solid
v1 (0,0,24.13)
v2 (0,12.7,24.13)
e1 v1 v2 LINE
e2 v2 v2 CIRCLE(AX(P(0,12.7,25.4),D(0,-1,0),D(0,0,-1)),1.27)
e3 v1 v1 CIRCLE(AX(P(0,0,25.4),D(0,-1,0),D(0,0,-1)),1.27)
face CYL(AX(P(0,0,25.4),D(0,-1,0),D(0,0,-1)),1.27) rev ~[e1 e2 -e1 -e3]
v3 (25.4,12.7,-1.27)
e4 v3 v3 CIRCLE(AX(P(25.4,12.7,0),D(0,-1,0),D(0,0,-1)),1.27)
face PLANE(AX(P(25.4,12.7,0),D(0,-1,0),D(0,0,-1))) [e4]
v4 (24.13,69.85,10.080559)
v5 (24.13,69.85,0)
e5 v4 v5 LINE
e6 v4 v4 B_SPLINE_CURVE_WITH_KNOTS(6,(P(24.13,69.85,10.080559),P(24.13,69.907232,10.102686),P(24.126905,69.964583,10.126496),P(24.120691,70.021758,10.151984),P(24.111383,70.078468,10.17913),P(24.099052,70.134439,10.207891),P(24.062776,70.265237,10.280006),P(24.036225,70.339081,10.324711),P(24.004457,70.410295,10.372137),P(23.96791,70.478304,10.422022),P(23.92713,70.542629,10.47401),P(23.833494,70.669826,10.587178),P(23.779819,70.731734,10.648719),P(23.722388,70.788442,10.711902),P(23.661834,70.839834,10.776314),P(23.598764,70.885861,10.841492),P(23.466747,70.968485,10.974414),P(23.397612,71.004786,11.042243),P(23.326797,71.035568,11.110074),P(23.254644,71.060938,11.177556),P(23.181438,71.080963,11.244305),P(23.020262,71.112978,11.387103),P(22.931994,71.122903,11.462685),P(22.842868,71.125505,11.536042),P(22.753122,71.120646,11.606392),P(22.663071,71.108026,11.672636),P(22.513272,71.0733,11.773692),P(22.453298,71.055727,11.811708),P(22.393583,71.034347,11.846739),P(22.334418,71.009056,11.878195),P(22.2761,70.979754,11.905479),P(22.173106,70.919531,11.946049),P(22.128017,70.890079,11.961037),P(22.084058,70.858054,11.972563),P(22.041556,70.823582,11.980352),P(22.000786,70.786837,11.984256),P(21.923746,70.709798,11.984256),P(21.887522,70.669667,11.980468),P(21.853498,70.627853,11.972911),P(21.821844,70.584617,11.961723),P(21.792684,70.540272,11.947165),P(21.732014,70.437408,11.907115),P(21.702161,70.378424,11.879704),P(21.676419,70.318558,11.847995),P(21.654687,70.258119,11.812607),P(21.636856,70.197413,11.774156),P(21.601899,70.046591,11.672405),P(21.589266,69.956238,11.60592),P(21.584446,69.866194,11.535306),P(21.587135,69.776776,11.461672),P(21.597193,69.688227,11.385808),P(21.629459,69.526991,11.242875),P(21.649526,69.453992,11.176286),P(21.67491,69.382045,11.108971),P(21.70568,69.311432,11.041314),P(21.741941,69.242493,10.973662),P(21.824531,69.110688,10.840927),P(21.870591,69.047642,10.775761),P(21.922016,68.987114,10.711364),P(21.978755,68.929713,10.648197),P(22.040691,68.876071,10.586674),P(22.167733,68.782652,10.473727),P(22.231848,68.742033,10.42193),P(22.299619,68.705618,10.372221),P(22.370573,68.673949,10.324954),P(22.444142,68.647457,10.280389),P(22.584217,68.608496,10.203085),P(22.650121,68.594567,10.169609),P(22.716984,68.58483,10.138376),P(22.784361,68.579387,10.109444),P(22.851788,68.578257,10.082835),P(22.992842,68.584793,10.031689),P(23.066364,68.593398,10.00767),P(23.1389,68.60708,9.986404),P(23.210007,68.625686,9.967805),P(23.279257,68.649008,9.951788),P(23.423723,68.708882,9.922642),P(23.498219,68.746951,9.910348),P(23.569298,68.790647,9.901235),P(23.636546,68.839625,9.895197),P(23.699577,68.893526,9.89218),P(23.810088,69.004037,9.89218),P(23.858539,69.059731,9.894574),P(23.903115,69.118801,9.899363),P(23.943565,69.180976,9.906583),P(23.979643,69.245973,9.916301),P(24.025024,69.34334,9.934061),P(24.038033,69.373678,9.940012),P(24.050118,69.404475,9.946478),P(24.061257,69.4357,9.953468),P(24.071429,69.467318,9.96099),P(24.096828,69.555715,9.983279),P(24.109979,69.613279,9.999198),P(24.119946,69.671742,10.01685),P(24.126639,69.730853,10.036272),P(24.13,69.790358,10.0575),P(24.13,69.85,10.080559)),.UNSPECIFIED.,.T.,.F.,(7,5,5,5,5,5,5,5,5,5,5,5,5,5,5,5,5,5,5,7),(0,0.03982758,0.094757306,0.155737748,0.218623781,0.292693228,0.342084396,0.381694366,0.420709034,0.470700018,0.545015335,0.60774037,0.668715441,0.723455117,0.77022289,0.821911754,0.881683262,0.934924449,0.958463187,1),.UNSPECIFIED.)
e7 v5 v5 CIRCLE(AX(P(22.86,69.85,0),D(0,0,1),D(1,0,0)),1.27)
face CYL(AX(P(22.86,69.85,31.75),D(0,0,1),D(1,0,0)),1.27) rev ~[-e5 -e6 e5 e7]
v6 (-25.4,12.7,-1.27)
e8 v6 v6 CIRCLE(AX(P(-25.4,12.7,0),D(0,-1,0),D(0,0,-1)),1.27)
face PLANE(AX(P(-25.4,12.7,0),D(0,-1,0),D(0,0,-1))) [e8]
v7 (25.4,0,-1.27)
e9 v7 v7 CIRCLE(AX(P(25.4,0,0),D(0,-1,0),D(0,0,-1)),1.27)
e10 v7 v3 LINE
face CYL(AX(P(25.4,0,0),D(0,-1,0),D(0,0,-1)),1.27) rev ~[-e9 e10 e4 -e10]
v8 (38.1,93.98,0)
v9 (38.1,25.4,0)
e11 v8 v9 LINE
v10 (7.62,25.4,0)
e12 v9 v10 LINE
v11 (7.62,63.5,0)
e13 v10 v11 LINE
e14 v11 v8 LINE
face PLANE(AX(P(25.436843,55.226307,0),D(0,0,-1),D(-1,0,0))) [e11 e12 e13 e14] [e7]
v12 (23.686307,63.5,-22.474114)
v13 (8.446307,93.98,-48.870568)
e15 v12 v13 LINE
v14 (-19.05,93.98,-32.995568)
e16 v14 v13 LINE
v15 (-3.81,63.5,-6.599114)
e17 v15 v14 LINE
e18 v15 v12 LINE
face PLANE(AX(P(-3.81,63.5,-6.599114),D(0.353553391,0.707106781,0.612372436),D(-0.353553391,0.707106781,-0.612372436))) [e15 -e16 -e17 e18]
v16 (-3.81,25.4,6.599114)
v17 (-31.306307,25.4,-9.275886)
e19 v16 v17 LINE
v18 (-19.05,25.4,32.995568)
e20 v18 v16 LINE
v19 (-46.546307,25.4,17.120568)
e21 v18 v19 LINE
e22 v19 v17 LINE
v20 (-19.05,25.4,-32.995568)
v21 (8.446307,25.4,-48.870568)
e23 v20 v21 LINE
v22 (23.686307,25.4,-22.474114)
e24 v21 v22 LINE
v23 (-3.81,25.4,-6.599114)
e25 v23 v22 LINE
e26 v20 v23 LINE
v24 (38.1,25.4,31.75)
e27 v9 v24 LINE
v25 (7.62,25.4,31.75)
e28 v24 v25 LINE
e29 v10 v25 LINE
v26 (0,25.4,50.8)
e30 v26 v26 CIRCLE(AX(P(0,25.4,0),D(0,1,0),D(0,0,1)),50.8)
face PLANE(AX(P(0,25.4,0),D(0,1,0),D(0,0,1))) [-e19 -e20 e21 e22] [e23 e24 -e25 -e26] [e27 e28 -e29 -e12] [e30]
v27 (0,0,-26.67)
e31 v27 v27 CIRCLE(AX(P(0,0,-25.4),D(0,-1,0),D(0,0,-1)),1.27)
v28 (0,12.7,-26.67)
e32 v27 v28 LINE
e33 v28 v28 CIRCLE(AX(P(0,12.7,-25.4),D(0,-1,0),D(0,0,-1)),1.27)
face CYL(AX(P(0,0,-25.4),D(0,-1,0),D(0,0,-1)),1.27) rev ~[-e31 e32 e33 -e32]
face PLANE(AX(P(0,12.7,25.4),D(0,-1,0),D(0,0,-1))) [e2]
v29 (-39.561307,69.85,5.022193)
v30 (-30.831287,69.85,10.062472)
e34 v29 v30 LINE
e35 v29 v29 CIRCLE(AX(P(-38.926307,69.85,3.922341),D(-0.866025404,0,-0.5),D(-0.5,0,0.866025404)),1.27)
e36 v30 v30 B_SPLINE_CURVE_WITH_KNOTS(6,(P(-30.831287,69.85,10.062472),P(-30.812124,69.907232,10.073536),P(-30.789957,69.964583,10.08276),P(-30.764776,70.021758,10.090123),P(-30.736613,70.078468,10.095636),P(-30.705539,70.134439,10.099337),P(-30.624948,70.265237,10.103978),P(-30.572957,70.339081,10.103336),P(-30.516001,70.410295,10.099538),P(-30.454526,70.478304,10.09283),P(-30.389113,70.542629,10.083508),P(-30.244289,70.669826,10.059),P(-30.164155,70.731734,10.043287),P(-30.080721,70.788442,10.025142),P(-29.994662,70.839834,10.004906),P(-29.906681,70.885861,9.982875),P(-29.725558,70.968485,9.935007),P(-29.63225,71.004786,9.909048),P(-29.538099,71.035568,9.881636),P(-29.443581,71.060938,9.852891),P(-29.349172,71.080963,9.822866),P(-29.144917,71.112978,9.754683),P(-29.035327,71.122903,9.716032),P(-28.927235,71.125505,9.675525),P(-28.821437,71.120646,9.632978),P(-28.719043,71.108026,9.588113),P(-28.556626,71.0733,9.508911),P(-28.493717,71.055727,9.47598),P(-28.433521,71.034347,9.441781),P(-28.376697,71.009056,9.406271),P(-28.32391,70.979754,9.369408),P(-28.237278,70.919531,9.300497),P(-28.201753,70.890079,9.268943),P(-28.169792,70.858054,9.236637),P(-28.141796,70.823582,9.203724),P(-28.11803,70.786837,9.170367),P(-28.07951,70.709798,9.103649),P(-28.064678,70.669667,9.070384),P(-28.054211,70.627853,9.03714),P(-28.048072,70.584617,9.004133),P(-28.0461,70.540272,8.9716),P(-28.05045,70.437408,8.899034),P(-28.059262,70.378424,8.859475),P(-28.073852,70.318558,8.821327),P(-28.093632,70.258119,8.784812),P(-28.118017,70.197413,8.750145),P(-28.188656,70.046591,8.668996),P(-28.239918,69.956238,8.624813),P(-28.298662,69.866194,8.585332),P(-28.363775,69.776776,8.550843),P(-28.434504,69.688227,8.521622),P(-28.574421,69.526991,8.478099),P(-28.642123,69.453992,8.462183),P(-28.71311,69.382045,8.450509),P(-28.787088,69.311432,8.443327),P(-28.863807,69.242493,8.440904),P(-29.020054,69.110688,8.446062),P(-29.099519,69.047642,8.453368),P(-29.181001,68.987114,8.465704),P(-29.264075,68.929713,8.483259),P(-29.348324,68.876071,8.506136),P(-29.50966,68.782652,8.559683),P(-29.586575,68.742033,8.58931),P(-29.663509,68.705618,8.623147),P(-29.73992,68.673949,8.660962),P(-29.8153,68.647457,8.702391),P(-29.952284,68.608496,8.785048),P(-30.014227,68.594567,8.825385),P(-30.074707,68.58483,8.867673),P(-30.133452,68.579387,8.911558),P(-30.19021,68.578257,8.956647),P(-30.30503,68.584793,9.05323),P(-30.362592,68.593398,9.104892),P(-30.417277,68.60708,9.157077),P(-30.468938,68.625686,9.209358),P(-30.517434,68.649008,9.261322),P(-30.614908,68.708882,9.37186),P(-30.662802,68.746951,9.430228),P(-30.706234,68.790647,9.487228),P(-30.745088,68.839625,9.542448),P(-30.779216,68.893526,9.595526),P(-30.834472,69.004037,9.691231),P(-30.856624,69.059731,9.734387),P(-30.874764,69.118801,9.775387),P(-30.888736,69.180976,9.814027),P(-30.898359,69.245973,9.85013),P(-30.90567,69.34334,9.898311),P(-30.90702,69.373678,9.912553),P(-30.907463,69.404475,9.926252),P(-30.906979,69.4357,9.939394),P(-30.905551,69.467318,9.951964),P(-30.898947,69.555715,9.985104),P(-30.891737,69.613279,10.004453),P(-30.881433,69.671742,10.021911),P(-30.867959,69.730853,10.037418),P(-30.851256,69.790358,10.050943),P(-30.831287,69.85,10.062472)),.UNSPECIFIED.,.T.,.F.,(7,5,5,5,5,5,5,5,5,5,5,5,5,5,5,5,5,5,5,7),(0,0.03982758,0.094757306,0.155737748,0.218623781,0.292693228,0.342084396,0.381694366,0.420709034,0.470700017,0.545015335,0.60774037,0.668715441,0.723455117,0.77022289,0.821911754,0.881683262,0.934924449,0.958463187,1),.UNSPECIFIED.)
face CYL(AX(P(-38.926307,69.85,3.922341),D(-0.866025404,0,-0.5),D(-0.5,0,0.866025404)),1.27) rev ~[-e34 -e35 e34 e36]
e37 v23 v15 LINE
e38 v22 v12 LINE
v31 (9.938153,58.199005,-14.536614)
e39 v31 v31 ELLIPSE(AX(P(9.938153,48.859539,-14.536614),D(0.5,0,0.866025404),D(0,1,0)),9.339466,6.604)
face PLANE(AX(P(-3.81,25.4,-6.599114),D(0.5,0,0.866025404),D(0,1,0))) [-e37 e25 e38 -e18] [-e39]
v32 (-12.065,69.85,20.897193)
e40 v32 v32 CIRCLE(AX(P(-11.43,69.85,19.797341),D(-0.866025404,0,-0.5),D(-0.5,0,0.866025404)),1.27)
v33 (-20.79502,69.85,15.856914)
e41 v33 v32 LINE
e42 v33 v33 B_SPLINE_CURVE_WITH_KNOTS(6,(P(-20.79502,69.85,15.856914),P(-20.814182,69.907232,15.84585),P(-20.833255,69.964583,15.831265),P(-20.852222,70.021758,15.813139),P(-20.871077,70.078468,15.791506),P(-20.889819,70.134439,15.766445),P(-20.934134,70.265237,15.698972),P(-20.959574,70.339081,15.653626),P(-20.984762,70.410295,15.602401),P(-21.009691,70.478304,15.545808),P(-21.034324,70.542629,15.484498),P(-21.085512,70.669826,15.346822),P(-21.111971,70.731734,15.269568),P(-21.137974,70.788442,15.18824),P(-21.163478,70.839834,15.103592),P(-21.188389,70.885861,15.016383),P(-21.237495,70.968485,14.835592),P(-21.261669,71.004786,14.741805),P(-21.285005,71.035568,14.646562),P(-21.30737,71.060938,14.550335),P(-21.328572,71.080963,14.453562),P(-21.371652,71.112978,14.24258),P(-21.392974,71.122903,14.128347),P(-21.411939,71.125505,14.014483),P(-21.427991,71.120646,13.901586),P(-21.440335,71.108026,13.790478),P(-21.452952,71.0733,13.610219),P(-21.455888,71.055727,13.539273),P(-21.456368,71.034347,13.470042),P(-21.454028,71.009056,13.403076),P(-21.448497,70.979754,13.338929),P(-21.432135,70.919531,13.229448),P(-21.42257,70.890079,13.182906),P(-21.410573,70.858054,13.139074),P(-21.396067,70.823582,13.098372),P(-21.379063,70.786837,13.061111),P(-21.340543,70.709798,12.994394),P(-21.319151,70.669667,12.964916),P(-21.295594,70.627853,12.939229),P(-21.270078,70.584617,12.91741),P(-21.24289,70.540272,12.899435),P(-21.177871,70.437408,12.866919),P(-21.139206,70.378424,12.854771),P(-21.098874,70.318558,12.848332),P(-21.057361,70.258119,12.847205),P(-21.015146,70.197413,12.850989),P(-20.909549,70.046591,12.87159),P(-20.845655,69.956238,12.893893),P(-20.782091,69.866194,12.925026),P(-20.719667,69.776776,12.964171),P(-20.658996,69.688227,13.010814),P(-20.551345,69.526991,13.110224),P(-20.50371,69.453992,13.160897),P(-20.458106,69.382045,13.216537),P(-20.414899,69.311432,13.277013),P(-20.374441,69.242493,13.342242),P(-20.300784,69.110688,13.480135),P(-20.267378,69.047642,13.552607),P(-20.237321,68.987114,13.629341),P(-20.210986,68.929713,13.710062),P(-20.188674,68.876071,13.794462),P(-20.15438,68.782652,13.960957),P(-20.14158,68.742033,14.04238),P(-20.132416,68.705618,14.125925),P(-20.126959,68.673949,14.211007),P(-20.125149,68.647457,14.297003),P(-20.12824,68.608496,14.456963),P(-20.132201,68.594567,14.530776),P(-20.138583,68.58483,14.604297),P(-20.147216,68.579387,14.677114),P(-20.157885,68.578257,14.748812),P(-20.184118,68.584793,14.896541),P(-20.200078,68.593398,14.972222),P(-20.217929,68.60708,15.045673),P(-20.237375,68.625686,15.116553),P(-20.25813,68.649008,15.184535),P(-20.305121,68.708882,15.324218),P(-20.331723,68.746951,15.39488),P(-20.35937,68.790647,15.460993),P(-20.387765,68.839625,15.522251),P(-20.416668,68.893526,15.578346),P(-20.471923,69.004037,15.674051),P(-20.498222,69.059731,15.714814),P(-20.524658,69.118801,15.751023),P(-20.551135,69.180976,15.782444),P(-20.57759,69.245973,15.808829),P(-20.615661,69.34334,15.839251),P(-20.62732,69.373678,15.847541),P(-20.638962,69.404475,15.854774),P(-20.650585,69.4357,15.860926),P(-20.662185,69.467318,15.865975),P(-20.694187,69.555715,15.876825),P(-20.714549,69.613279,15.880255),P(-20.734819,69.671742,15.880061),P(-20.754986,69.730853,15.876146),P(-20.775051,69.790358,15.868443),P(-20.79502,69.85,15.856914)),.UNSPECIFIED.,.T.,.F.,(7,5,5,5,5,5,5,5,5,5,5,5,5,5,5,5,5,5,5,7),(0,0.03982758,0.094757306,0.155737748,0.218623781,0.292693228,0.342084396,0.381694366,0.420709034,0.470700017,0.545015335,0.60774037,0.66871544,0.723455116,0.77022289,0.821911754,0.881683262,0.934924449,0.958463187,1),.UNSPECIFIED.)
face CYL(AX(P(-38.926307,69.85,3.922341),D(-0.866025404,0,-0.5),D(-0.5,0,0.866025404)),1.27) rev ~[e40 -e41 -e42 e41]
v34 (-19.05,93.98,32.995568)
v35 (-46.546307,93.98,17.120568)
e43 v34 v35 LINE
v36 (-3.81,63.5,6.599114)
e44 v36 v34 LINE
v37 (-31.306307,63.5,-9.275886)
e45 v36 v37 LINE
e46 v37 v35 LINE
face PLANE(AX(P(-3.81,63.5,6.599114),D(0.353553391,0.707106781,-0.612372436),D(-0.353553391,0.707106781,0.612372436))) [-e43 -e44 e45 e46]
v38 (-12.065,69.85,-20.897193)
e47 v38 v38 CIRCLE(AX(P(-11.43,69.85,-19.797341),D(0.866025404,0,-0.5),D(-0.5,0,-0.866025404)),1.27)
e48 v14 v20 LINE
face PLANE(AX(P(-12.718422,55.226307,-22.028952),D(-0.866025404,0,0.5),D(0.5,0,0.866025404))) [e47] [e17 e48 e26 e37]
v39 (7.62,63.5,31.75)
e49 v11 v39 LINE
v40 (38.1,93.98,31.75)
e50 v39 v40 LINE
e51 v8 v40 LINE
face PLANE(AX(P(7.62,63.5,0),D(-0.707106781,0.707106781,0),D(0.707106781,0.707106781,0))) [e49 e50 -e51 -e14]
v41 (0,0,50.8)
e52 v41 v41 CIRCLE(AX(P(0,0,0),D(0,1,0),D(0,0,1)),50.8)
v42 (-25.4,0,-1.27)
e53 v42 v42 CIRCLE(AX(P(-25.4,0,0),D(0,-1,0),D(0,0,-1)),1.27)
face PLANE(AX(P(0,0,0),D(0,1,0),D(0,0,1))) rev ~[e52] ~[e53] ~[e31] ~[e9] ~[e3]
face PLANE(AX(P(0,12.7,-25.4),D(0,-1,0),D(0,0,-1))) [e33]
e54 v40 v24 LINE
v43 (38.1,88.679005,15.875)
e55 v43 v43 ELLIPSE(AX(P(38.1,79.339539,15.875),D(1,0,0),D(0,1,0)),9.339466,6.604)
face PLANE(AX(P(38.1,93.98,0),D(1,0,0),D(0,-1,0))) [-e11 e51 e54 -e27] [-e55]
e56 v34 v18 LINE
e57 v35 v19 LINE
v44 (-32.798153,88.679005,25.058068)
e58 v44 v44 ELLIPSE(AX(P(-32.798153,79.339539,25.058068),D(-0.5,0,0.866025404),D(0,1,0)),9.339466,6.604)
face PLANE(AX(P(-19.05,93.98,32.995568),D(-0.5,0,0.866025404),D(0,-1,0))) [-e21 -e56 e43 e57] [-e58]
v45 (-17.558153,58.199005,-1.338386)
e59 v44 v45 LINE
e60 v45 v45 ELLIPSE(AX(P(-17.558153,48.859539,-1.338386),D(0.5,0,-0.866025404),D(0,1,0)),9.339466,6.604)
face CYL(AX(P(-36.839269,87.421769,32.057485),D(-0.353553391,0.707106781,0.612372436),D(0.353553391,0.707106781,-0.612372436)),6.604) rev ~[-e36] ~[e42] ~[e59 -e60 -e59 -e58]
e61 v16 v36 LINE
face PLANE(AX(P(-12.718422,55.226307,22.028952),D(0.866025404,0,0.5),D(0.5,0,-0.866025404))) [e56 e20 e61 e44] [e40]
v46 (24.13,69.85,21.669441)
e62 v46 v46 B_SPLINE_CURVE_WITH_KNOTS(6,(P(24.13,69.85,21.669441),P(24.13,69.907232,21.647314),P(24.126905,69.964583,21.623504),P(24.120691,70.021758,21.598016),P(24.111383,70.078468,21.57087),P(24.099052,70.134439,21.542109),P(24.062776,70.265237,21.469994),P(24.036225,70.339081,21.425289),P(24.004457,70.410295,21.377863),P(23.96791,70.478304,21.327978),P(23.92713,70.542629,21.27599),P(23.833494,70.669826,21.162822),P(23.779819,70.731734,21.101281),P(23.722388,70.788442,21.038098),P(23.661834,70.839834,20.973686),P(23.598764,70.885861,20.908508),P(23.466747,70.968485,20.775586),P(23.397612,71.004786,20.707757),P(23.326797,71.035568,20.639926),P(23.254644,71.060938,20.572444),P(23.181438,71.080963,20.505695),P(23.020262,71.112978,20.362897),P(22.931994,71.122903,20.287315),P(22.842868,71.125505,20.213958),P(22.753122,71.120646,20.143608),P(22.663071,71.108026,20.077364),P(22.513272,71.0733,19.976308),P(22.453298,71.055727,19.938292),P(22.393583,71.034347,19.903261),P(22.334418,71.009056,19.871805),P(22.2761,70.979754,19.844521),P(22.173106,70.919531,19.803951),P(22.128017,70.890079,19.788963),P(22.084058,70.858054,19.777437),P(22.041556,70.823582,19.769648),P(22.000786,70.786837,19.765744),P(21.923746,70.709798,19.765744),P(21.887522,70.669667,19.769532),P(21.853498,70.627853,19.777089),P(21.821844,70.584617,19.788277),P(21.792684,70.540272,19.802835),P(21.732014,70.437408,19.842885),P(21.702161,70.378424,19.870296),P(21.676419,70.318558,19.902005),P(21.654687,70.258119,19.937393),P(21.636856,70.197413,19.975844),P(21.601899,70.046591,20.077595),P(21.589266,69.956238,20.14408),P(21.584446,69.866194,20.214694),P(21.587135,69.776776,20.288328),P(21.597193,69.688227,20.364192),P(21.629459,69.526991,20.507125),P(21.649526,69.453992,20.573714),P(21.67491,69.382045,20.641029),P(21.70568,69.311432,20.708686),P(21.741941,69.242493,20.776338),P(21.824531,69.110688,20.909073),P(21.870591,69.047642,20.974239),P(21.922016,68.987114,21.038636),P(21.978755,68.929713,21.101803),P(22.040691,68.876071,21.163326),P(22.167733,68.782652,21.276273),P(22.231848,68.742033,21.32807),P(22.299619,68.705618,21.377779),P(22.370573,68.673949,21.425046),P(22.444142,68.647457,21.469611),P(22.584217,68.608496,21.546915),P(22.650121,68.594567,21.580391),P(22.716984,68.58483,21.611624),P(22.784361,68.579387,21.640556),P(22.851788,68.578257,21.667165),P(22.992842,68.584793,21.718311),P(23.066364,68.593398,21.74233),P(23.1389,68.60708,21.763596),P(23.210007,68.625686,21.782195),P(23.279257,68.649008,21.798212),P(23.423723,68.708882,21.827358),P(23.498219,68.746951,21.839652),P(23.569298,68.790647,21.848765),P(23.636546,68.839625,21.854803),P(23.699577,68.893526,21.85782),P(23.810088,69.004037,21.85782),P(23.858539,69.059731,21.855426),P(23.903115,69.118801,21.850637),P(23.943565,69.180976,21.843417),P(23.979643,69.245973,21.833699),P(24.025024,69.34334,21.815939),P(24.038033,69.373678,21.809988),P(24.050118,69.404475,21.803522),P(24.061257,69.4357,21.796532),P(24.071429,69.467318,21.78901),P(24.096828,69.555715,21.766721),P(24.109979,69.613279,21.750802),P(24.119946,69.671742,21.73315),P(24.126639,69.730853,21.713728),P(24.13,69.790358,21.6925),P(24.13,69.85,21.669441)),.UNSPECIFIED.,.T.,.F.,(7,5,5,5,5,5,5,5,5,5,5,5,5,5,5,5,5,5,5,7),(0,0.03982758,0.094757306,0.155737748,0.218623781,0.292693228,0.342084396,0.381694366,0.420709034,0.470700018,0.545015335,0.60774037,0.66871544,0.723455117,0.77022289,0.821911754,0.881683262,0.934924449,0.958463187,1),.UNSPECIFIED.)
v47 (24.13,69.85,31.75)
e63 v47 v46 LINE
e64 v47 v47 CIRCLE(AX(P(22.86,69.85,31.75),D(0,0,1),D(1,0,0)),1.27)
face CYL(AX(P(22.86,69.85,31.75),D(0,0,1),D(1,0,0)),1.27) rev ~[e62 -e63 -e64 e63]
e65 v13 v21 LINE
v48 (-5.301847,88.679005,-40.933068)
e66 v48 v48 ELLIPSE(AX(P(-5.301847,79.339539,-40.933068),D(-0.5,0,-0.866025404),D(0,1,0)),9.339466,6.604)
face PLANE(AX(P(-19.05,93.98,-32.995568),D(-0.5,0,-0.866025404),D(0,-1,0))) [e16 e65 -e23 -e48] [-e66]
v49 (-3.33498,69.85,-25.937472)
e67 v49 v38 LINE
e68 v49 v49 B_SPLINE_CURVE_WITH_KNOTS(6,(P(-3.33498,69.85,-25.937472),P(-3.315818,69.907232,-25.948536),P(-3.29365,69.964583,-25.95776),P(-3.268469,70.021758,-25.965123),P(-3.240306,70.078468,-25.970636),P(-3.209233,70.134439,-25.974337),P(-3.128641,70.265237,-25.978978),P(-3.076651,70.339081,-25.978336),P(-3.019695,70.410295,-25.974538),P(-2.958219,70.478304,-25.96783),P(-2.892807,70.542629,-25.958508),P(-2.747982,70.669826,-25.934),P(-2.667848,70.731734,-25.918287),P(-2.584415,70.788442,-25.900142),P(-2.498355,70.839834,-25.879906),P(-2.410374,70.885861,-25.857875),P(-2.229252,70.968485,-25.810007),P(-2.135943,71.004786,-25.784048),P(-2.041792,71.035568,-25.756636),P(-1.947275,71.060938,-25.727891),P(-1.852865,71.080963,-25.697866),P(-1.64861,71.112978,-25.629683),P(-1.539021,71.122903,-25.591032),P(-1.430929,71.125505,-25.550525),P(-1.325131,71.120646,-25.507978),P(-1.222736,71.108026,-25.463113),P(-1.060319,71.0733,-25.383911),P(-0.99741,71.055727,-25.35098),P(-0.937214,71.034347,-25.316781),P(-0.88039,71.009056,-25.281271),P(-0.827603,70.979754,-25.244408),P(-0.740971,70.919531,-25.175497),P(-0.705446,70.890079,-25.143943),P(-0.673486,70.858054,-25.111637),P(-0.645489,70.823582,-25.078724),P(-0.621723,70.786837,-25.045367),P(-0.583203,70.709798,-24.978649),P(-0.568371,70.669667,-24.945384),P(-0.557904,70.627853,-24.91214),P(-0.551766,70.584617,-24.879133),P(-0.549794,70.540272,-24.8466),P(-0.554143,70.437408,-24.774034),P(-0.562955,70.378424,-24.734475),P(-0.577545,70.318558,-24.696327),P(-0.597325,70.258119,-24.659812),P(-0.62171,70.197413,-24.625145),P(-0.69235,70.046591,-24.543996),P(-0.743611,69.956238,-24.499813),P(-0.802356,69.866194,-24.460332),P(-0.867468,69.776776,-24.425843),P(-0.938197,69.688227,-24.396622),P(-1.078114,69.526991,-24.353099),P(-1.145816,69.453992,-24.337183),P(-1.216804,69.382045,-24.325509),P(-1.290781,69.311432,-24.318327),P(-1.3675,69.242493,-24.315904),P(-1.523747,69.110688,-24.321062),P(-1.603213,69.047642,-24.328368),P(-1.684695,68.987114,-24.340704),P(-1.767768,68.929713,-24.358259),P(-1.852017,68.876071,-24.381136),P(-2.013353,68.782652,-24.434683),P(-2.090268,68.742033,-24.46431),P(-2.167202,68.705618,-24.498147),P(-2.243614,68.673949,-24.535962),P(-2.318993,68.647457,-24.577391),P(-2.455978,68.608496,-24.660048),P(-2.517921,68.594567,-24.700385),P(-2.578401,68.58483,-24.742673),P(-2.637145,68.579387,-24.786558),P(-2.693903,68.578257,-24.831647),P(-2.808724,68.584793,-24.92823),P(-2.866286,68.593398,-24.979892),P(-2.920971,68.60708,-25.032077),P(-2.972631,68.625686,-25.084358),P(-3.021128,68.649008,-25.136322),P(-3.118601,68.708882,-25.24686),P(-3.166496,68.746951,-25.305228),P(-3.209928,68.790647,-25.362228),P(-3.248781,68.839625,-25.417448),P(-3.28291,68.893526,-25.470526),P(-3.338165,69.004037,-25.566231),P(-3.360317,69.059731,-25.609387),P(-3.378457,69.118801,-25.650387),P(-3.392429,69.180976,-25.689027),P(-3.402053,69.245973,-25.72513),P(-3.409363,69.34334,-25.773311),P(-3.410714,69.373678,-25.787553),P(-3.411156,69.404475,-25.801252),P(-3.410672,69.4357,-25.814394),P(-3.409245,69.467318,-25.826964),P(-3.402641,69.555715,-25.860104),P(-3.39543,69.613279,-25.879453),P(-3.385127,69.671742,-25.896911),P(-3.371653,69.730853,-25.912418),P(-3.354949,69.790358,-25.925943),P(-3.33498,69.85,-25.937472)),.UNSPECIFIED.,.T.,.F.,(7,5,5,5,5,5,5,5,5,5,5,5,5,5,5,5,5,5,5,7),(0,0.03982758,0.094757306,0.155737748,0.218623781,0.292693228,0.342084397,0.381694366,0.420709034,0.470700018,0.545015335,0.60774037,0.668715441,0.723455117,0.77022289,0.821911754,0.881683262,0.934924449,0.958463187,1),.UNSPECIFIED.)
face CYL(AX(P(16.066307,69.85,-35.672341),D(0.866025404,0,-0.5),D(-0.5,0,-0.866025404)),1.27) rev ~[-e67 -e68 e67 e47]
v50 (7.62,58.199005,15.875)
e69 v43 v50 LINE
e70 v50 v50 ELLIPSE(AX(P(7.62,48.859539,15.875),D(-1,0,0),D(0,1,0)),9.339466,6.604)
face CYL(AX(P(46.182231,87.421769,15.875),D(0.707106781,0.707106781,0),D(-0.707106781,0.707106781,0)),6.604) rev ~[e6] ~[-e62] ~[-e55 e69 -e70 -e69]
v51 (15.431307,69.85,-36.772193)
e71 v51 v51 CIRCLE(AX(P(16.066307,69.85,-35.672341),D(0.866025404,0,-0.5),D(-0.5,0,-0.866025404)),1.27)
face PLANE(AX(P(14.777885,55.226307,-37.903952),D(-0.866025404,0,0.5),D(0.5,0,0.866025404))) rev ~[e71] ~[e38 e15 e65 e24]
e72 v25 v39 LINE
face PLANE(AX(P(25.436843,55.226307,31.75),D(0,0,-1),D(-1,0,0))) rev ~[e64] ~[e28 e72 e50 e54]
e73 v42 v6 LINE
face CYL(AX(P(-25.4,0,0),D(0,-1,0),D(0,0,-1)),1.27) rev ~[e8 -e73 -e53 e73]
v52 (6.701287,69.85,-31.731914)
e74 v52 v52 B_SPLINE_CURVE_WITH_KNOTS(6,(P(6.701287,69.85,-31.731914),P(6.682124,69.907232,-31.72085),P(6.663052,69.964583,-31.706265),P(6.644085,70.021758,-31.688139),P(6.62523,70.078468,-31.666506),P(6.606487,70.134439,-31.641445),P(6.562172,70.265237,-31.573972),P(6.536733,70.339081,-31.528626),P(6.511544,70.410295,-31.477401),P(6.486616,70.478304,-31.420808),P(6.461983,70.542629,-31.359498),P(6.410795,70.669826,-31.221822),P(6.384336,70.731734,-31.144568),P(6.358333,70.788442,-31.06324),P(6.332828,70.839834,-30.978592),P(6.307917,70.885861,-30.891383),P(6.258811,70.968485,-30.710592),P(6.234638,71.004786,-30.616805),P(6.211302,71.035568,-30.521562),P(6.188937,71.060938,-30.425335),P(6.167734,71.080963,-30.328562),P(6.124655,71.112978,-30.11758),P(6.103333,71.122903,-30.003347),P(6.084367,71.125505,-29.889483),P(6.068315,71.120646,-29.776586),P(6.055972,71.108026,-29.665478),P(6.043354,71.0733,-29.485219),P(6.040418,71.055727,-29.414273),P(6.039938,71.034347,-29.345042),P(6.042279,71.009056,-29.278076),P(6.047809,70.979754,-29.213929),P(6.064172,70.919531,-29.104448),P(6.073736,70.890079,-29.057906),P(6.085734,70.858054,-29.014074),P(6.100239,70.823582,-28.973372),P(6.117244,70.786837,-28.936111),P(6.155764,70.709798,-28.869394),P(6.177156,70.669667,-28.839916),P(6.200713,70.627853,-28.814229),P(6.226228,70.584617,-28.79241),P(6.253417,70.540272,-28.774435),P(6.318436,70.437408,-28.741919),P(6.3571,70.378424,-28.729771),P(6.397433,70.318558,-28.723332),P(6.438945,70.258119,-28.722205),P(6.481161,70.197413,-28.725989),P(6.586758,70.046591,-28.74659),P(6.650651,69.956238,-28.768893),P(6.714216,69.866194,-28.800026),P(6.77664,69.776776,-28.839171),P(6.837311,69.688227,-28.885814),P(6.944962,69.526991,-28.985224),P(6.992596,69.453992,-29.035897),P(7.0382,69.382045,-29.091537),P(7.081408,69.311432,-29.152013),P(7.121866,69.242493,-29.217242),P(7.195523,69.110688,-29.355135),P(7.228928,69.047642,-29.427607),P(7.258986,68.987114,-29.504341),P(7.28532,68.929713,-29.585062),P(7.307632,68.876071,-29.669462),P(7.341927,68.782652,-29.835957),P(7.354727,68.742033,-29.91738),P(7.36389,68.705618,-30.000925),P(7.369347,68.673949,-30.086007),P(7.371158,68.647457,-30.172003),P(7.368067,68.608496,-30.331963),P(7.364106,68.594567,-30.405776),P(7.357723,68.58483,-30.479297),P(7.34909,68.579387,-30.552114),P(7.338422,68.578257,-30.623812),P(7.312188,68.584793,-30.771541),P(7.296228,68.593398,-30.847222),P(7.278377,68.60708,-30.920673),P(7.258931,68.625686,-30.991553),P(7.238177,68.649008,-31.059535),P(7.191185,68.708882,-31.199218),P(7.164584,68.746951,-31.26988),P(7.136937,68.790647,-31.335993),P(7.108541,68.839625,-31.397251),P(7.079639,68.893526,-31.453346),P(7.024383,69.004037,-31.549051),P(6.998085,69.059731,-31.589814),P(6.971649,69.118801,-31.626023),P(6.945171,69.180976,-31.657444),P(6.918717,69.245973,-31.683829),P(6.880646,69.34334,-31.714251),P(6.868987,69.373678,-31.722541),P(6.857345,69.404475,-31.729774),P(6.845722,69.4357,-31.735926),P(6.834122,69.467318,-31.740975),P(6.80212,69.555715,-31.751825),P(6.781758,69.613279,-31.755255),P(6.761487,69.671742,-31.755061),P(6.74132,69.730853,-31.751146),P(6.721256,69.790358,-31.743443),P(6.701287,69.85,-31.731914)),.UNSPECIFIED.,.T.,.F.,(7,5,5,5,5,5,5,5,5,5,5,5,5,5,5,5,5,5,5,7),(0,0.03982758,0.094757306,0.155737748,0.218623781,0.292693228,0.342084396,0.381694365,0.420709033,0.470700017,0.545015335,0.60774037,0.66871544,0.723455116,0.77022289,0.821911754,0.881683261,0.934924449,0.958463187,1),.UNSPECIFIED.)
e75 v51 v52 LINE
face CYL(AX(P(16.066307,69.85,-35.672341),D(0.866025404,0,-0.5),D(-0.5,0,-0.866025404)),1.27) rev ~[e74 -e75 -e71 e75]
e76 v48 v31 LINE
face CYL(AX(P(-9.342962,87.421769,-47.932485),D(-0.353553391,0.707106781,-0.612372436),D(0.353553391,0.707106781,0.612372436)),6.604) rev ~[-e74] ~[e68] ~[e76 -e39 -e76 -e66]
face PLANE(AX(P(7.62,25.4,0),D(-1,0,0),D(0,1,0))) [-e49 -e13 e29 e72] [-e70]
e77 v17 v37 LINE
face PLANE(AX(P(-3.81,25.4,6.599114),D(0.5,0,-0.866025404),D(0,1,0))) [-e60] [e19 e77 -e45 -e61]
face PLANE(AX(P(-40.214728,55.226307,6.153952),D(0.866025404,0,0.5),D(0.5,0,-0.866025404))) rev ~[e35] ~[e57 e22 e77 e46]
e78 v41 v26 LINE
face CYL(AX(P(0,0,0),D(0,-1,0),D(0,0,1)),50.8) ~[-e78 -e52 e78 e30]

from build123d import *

# Parameters (mm, degrees)
SKETCH1_R           = 50.8
BOSS_EXTRUDE1_DEPTH = 25.4
SKETCH2_R           = 1.27
CUT_EXTRUDE1_DEPTH  = 12.7
BOSS_EXTRUDE2_DEPTH = 31.75
SKETCH9_R           = 6.604
CUT_EXTRUDE2_DEPTH  = 68.58
SKETCH10_R          = 1.27
CUT_EXTRUDE3_DEPTH  = 68.58
CIRPATTERN3_COUNT   = 3


with BuildPart() as part:
    # Sketch1 → Boss-Extrude1 (new body)
    with BuildSketch(Plane(origin=(0, 0, 0), x_dir=(1, 0, 0), z_dir=(0, 1, 0))):
        Circle(SKETCH1_R)
    extrude(amount=BOSS_EXTRUDE1_DEPTH)

    # Sketch2 → Cut-Extrude1 (cut)
    with BuildSketch(Plane.XZ):
        with Locations((-25.4, 0)):
            Circle(SKETCH2_R)
        with Locations((0, 25.4)):
            Circle(SKETCH2_R)
        with Locations((25.4, 0)):
            Circle(SKETCH2_R)
        with Locations((0, -25.4)):
            Circle(SKETCH2_R)
    extrude(amount=-CUT_EXTRUDE1_DEPTH, mode=Mode.SUBTRACT)

    # Sketch4 → Boss-Extrude2 (add)
    with BuildSketch(Plane.XY):
        Polygon((7.62, 25.4), (7.62, 63.5), (38.1, 93.98), (38.1, 25.4), align=None)
    boss_extrude2 = extrude(amount=BOSS_EXTRUDE2_DEPTH)

    # Sketch9 → Cut-Extrude2 (cut)
    with BuildSketch(Plane(origin=(66.802, 66.802, 0), x_dir=(0, 0, -1), z_dir=(0.7071067811865512, 0.7071067811865439, 0))):
        with Locations((-15.875, 29.160757667)):
            Circle(SKETCH9_R)
    cut_extrude2 = extrude(amount=-CUT_EXTRUDE2_DEPTH, mode=Mode.SUBTRACT)

    # Sketch10 → Cut-Extrude3 (cut)
    with BuildSketch(Plane.XY.offset(31.75)):
        with Locations((22.86, 69.85)):
            Circle(SKETCH10_R)
    cut_extrude3 = extrude(amount=-CUT_EXTRUDE3_DEPTH, mode=Mode.SUBTRACT)

    # CirPattern3: Boss-Extrude2, Cut-Extrude2, Cut-Extrude3 ×3 about axis
    cirpattern3_axis = Axis((0, 25.4, 0), (0, -1, 0))
    add([boss_extrude2.rotate(cirpattern3_axis, i * 360 / CIRPATTERN3_COUNT) for i in range(1, CIRPATTERN3_COUNT)])
    add([cut_extrude2.rotate(cirpattern3_axis, i * 360 / CIRPATTERN3_COUNT) for i in range(1, CIRPATTERN3_COUNT)], mode=Mode.SUBTRACT)
    add([cut_extrude3.rotate(cirpattern3_axis, i * 360 / CIRPATTERN3_COUNT) for i in range(1, CIRPATTERN3_COUNT)], mode=Mode.SUBTRACT)


solid = part.part
